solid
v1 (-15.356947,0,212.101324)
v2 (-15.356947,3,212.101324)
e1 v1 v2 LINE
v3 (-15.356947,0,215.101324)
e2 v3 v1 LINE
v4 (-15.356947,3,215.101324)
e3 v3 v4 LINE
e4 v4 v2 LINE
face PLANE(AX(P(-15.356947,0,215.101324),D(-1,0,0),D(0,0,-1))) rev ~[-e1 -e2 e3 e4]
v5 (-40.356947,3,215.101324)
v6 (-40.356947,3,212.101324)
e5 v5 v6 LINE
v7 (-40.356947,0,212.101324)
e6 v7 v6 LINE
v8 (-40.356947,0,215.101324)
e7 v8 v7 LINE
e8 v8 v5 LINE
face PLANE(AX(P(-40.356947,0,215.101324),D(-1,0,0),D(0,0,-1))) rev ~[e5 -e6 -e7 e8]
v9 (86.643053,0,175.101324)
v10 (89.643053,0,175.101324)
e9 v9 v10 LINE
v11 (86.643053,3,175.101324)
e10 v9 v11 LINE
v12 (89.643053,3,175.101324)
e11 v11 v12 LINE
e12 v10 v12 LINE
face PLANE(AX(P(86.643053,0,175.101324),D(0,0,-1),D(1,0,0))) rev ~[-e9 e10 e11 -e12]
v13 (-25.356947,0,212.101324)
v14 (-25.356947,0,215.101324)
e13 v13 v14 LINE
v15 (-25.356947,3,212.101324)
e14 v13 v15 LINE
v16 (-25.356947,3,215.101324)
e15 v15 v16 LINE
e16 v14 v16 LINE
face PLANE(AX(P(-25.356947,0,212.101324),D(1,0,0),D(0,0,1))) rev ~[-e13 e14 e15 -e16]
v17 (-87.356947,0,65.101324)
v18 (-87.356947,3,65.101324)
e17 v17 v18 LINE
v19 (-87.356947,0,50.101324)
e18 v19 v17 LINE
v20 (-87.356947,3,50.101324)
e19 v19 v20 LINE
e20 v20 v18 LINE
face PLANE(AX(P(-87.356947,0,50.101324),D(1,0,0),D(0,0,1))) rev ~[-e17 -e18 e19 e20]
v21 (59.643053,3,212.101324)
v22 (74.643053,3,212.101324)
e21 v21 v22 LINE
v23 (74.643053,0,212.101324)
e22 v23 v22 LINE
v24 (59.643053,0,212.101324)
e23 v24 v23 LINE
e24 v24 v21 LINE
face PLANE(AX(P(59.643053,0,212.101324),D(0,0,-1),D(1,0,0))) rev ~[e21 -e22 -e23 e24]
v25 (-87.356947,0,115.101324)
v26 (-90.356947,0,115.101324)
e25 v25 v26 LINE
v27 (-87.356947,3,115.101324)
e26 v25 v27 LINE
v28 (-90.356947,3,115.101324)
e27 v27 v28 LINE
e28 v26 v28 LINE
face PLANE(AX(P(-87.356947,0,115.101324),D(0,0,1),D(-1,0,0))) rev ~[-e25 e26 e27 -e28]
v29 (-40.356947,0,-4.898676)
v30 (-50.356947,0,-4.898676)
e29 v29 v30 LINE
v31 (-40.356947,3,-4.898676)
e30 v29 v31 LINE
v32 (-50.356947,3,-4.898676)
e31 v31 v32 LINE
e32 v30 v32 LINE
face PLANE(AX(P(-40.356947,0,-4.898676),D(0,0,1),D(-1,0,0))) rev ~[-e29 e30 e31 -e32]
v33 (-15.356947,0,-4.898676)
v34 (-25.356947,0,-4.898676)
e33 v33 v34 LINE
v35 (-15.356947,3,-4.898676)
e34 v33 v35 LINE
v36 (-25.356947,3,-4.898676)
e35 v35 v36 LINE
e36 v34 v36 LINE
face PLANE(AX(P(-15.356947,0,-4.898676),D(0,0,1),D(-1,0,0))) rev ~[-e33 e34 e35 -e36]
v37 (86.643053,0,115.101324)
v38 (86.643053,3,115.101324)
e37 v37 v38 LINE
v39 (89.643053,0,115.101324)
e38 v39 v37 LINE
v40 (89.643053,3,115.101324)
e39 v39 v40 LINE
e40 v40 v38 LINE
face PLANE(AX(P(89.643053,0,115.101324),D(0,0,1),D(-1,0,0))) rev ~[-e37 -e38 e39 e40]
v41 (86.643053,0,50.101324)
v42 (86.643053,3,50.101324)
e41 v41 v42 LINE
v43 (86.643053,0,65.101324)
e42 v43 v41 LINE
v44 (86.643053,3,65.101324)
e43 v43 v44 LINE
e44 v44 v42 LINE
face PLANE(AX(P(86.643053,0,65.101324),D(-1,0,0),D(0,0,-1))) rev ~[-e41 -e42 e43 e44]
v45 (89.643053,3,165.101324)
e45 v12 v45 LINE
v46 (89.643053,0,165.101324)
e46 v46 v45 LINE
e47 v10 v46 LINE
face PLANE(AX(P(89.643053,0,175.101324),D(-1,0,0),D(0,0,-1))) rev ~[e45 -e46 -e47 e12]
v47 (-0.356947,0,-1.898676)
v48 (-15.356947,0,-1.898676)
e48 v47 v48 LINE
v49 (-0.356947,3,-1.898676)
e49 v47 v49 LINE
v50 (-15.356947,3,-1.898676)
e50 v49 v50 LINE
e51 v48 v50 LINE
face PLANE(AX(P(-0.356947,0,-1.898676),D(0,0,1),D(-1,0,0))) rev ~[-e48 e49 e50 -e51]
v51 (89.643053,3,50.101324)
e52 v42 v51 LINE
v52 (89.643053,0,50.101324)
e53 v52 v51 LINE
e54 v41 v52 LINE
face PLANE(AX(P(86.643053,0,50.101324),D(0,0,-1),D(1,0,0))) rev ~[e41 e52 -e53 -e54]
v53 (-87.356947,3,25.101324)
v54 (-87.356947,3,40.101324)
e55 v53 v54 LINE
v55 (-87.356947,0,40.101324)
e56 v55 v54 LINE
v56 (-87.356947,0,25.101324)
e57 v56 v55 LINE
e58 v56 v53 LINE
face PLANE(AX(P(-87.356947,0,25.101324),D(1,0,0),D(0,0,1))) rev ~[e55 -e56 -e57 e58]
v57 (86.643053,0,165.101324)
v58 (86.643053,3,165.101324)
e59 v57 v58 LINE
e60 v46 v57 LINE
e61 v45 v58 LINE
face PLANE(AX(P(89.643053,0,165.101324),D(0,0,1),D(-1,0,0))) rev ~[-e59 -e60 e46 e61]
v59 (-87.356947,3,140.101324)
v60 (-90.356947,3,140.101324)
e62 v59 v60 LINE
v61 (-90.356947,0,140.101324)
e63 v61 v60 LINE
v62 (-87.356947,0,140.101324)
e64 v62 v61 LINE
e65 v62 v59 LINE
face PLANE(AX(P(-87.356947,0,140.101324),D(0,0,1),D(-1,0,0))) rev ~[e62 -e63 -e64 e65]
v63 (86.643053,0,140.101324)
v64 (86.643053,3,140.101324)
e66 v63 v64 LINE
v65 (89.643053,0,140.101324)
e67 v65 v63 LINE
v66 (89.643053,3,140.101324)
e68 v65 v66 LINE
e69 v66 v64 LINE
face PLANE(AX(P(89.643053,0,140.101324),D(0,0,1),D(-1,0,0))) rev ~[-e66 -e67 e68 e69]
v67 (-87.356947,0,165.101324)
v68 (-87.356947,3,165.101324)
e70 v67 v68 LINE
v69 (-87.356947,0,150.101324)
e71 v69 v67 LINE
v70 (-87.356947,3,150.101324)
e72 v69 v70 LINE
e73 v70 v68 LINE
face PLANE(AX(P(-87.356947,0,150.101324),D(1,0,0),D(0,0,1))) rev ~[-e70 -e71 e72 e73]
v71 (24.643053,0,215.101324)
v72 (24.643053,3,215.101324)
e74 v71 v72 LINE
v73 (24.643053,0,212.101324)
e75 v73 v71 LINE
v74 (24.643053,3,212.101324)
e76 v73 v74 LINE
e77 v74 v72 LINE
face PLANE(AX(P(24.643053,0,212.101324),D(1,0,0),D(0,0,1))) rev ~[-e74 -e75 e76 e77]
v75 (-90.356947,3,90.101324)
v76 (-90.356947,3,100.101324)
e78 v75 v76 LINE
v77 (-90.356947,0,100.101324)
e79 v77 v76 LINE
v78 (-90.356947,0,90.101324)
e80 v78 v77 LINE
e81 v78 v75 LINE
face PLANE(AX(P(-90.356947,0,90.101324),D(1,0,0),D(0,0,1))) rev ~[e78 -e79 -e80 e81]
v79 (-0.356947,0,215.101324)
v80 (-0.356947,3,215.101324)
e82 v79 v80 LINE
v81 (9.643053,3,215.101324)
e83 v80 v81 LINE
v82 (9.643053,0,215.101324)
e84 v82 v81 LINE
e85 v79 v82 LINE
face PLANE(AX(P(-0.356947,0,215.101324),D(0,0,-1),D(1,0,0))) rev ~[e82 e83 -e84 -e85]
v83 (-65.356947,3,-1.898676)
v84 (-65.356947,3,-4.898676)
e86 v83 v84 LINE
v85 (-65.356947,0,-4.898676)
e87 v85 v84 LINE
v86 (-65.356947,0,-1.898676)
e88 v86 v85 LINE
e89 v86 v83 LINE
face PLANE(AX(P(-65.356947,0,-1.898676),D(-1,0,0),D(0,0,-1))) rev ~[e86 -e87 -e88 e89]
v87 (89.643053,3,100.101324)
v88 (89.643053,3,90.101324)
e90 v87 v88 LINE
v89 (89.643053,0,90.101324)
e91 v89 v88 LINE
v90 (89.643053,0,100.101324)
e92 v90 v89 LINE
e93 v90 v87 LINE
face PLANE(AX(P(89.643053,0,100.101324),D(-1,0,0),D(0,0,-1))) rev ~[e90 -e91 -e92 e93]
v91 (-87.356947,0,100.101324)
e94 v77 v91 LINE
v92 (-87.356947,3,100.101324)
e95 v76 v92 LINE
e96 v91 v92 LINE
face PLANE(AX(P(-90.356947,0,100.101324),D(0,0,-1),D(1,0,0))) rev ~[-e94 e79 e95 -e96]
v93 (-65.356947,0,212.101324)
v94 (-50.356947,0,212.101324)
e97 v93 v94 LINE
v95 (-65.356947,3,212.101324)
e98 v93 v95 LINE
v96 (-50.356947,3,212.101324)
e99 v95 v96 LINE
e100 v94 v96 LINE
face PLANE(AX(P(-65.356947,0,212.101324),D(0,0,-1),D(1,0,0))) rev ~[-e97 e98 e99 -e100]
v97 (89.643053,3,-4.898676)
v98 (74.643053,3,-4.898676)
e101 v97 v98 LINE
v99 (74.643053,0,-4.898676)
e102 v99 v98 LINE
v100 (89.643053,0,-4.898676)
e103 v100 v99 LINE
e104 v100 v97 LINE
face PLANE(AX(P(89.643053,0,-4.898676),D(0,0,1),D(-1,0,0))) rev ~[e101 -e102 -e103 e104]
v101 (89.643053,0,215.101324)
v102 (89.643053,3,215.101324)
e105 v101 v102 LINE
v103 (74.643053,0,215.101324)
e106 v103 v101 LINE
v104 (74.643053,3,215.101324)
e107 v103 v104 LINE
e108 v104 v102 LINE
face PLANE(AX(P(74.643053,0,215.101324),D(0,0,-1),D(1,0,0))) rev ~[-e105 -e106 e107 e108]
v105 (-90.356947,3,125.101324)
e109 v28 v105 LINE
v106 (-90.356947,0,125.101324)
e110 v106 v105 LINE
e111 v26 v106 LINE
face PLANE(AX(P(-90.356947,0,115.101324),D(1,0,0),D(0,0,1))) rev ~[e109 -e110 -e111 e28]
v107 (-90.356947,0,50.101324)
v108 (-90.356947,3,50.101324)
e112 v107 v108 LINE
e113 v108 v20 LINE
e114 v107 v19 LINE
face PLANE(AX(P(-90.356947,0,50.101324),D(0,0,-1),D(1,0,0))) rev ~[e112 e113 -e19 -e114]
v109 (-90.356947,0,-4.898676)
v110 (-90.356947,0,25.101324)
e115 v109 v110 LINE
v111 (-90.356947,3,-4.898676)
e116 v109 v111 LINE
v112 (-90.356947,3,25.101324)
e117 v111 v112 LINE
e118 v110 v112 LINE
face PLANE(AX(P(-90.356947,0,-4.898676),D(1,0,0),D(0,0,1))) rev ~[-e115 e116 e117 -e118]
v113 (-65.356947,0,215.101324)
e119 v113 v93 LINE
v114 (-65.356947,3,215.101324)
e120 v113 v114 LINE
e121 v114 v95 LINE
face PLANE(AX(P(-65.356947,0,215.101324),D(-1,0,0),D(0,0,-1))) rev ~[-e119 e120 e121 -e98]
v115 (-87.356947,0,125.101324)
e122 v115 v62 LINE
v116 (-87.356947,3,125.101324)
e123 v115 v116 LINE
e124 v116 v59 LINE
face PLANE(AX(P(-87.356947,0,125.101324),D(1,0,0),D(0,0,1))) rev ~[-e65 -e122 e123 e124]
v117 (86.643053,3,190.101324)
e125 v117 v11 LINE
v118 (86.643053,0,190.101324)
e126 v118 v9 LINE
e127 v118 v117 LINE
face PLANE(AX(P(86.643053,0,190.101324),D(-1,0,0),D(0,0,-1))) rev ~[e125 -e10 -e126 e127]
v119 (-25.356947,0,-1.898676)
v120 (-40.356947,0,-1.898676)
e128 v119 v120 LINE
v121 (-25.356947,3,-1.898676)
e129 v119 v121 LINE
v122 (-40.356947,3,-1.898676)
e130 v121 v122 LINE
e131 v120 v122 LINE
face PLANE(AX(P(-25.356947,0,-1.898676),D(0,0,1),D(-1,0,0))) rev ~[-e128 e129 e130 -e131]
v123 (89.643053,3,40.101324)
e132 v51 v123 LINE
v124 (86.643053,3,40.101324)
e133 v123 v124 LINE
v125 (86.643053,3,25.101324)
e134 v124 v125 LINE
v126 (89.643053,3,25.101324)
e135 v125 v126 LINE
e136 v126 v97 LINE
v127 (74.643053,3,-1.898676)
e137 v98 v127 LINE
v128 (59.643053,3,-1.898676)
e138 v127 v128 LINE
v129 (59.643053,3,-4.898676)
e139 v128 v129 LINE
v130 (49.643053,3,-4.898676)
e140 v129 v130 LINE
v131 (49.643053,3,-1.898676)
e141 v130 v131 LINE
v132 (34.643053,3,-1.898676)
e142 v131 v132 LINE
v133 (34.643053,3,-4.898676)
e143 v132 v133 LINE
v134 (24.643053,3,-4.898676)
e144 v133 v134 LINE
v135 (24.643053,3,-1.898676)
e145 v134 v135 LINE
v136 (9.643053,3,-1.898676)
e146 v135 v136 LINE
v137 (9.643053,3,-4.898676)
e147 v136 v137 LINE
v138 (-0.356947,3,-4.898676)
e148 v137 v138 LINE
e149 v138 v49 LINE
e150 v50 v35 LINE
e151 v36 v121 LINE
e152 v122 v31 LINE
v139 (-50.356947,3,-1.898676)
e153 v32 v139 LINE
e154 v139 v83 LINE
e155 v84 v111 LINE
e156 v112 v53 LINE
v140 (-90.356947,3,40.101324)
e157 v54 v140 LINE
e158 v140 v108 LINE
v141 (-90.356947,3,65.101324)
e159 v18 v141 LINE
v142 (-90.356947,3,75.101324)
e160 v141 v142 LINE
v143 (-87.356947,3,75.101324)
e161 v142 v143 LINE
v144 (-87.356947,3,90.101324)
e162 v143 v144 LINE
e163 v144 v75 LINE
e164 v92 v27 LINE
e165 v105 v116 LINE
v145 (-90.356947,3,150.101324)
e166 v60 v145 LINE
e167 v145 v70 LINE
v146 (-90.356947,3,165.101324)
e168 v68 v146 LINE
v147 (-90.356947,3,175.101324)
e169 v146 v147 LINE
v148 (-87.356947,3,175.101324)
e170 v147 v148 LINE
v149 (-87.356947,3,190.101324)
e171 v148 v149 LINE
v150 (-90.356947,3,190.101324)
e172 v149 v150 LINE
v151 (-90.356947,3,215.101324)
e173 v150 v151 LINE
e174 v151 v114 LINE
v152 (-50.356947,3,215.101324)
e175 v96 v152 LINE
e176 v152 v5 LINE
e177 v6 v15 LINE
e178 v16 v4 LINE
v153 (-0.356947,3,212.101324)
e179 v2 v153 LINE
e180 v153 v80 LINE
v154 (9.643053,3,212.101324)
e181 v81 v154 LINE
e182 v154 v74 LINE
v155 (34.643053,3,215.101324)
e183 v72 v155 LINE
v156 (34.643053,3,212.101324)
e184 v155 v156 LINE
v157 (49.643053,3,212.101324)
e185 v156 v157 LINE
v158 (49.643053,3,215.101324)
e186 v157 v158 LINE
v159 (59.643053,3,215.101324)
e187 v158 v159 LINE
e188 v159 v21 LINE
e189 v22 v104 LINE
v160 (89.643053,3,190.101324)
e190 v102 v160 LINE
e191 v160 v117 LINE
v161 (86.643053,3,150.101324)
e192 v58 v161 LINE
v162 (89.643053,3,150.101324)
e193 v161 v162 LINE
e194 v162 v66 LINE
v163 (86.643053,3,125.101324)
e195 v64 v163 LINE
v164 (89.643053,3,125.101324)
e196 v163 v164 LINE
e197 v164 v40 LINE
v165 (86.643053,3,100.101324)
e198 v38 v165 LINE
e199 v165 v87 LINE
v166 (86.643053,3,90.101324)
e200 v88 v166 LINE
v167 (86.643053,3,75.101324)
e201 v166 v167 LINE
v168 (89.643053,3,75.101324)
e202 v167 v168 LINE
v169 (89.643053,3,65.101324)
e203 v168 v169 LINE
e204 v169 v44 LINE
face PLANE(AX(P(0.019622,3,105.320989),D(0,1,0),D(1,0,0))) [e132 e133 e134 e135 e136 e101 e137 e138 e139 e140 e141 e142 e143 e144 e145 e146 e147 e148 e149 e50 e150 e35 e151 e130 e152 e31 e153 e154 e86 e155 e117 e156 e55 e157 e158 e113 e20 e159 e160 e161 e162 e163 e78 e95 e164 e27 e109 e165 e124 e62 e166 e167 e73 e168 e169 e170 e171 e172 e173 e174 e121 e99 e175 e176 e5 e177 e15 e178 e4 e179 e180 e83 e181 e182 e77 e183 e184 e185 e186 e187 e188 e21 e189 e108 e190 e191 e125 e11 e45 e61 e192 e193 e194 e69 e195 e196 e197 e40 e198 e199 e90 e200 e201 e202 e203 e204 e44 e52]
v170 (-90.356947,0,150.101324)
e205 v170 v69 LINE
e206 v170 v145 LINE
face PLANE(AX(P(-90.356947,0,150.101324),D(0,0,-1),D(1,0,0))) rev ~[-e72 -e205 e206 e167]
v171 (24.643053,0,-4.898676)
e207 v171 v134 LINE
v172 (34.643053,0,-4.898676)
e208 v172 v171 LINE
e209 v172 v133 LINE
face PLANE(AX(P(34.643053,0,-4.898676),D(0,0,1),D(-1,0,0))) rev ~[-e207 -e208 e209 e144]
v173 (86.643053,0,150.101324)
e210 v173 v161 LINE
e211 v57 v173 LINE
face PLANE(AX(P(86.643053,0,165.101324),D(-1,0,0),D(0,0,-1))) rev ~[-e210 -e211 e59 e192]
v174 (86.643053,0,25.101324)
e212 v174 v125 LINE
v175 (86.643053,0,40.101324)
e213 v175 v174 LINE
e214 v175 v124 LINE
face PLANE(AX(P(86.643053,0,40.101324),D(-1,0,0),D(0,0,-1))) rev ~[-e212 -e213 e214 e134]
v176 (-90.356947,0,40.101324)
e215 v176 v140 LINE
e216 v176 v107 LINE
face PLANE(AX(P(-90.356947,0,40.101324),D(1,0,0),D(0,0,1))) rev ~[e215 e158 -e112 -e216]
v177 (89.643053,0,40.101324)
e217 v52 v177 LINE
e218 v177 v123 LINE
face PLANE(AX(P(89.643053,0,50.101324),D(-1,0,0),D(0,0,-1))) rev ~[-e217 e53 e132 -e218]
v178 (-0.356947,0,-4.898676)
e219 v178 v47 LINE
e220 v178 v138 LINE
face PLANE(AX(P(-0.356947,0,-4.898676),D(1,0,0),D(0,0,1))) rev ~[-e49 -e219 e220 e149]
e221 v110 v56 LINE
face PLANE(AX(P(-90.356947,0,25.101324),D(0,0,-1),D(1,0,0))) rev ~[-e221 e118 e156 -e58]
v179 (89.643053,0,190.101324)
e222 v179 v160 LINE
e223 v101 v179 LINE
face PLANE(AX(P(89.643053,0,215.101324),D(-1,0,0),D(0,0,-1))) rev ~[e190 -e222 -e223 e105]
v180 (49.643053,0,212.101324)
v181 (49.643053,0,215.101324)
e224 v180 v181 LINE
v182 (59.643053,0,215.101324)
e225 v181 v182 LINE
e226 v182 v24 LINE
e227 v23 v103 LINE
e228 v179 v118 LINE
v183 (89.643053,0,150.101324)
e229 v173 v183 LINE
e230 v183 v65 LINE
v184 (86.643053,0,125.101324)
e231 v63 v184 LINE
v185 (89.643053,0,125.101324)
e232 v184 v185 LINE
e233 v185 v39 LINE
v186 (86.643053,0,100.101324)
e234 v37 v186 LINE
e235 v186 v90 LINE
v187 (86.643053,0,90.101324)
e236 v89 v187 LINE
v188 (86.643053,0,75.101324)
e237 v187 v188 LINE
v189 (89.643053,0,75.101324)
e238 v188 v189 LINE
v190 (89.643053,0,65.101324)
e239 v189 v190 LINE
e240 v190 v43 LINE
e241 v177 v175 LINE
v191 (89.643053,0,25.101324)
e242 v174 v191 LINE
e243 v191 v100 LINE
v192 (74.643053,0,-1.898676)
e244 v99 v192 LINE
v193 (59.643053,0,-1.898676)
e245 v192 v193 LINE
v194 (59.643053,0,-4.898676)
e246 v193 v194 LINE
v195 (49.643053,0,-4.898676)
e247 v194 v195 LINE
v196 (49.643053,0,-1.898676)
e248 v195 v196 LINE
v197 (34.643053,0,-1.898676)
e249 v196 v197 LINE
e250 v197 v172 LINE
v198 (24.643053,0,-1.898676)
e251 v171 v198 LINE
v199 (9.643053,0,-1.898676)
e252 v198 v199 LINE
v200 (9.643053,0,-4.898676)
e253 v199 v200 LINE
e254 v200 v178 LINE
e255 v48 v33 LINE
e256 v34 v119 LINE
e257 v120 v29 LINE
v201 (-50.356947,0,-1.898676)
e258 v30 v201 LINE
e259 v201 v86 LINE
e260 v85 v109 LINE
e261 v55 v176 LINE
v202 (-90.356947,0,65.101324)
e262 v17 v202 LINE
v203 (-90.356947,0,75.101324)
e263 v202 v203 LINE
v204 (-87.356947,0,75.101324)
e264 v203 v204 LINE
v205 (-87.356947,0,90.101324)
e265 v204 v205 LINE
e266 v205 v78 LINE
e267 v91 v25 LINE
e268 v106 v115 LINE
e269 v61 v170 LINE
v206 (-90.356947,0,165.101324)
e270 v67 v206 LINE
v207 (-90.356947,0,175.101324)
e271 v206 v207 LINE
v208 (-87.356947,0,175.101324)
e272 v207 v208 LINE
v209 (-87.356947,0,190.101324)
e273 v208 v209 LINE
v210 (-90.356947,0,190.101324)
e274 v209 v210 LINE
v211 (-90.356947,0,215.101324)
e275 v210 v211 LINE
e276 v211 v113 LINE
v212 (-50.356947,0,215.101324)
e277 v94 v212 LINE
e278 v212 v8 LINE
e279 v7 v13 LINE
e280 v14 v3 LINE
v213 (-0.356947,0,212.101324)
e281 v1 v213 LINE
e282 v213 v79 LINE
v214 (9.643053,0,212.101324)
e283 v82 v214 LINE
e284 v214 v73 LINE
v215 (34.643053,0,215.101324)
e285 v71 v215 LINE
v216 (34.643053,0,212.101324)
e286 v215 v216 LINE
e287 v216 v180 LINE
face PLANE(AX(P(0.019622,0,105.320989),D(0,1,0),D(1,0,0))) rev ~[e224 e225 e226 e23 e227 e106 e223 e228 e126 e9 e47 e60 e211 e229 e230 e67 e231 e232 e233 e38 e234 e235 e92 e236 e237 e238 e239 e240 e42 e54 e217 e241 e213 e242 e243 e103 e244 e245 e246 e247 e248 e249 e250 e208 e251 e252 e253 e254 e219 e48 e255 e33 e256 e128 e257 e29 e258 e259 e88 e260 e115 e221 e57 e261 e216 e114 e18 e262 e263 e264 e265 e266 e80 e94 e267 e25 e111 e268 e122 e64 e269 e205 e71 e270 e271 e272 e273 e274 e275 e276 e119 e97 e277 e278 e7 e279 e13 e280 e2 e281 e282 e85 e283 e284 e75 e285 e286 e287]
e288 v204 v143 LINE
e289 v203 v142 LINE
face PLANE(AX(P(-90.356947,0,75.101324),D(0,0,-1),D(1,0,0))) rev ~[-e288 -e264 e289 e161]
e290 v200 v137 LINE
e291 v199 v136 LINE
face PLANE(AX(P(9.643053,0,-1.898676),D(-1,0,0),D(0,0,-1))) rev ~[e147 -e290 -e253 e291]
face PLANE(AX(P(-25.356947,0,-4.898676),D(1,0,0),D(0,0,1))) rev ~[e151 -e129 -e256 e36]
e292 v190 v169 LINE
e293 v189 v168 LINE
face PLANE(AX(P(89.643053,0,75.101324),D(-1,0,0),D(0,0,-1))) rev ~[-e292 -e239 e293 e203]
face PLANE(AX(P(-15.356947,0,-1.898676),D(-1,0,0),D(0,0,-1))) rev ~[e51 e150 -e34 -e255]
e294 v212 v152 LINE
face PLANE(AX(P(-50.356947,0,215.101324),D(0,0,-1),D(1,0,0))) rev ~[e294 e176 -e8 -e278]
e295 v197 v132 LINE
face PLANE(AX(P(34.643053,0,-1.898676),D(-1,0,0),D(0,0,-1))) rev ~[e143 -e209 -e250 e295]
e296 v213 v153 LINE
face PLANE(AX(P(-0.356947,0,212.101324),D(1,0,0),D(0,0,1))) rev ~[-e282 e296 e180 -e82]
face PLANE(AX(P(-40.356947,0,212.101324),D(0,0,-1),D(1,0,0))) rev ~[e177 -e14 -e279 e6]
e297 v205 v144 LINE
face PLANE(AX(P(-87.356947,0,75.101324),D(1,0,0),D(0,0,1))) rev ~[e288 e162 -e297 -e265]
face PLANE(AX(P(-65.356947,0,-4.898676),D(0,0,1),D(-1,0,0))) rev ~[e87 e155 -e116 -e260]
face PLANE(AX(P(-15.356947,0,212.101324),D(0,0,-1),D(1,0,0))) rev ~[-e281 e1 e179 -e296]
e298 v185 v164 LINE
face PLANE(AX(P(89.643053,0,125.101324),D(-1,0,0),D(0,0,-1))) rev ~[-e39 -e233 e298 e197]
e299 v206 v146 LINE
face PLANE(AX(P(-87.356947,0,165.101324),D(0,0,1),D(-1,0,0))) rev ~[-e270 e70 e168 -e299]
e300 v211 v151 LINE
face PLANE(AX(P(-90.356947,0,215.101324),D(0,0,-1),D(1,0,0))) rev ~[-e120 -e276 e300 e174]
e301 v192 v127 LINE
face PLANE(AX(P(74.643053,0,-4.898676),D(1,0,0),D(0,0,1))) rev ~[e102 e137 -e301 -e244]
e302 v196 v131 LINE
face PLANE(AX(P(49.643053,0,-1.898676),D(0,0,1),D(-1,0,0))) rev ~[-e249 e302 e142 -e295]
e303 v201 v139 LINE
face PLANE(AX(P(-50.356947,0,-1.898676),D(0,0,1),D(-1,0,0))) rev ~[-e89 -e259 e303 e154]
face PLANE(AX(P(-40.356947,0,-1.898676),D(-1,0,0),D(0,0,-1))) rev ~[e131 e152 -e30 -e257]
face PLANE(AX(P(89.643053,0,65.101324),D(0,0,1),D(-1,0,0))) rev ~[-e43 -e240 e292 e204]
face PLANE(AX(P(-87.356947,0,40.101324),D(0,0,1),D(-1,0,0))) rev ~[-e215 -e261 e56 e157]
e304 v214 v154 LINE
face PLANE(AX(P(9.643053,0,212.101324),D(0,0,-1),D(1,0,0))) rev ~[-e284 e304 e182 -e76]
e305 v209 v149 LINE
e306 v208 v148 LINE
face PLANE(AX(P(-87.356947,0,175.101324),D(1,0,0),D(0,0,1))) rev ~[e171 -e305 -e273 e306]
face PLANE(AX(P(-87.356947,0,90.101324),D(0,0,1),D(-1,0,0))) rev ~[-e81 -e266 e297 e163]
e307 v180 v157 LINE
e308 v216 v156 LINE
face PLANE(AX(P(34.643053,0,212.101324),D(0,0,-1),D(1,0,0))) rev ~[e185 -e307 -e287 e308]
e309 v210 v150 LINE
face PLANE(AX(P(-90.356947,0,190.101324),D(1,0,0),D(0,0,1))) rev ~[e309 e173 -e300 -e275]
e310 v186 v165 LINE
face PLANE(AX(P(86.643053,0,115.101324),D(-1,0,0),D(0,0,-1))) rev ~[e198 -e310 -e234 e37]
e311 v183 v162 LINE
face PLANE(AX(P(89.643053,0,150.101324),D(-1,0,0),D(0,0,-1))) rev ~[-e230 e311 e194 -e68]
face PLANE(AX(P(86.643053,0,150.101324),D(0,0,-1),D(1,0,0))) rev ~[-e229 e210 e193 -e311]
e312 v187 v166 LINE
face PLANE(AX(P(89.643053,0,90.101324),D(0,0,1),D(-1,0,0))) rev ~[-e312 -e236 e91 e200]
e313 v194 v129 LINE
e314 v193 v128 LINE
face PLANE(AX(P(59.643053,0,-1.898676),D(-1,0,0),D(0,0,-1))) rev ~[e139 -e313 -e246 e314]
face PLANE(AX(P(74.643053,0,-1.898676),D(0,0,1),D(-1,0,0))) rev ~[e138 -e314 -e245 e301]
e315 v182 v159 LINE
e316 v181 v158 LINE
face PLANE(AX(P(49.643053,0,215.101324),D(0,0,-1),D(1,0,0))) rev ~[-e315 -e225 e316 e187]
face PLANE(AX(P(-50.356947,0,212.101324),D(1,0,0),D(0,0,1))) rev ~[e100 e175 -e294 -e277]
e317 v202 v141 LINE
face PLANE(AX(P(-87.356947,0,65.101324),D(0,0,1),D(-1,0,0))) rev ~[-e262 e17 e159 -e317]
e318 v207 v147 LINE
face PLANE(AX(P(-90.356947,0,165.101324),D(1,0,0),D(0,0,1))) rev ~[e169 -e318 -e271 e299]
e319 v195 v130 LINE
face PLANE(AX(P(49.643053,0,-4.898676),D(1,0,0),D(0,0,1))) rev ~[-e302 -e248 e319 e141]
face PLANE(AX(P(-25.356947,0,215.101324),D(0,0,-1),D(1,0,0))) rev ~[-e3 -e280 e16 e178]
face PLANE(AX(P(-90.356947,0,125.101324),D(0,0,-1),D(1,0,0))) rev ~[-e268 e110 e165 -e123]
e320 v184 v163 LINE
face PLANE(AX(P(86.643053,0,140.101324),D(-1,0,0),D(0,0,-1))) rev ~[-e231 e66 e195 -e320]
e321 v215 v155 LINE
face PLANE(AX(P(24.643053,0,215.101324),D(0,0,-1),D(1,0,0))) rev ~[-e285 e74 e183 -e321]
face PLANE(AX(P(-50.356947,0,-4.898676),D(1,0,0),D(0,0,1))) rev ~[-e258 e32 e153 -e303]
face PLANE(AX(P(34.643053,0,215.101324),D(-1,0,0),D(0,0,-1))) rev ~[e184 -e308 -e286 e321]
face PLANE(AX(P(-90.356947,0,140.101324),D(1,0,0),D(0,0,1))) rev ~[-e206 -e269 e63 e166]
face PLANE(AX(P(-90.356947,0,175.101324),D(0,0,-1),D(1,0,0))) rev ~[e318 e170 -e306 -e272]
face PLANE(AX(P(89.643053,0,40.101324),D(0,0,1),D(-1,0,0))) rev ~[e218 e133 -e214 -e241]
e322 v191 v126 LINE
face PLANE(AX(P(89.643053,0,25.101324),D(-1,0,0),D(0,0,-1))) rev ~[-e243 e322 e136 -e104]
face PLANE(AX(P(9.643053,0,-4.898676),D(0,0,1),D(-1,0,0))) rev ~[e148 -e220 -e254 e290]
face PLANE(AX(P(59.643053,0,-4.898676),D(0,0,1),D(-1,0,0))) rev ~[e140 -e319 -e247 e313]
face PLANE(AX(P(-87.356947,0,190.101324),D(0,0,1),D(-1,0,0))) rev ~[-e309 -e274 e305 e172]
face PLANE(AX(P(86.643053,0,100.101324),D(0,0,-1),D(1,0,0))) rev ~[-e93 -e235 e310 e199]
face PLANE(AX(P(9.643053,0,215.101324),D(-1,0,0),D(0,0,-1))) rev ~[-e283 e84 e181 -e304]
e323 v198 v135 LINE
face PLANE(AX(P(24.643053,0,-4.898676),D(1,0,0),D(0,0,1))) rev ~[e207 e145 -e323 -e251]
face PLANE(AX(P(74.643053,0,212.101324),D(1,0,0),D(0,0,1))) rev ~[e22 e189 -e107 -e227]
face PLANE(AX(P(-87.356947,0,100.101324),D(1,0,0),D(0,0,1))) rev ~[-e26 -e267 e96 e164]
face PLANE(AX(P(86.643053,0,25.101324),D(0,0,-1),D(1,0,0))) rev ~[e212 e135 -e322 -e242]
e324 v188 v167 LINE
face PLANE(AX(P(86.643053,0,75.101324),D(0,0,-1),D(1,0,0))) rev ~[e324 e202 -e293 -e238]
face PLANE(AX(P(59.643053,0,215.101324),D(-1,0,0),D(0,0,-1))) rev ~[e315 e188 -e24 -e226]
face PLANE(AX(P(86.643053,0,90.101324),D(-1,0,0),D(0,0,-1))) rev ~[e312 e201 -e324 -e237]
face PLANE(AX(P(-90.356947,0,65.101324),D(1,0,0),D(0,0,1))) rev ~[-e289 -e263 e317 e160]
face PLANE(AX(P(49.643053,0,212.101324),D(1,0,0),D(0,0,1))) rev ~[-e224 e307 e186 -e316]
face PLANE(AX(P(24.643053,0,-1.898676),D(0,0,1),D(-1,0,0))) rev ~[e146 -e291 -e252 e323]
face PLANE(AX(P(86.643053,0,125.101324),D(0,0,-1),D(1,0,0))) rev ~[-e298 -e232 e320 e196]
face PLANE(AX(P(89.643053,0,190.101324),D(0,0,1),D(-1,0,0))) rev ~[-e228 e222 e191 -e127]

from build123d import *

# Parameters (mm, degrees)
BOSS_EXTRUDE1_DEPTH = 3


with BuildPart() as part:
    # Sketch1 → Boss-Extrude1 (new body)
    with BuildSketch(Plane(origin=(0, 0, 0), x_dir=(1, 0, 0), z_dir=(0, 1, 0))):
        Polygon((-87.356947197, -190.101323735), (-90.356947197, -190.101323735), (-90.356947197, -215.101323735), (-65.356947197, -215.101323735), (-65.356947197, -212.101323735), (-50.356947197, -212.101323735), (-50.356947197, -215.101323735), (-40.356947197, -215.101323735), (-40.356947197, -212.101323735), (-25.356947197, -212.101323735), (-25.356947197, -215.101323735), (-15.356947197, -215.101323735), (-15.356947197, -212.101323735), (-0.356947197, -212.101323735), (-0.356947197, -215.101323735), (9.643052803, -215.101323735), (9.643052803, -212.101323735), (24.643052803, -212.101323735), (24.643052803, -215.101323735), (34.643052803, -215.101323735), (34.643052803, -212.101323735), (49.643052803, -212.101323735), (49.643052803, -215.101323735), (59.643052803, -215.101323735), (59.643052803, -212.101323735), (74.643052803, -212.101323735), (74.643052803, -215.101323735), (89.643052803, -215.101323735), (89.643052803, -190.101323735), (86.643052803, -190.101323735), (86.643052803, -175.101323735), (89.643052803, -175.101323735), (89.643052803, -165.101323735), (86.643052803, -165.101323735), (86.643052803, -150.101323735), (89.643052803, -150.101323735), (89.643052803, -140.101323735), (86.643052803, -140.101323735), (86.643052803, -125.101323735), (89.643052803, -125.101323735), (89.643052803, -115.101323735), (86.643052803, -115.101323735), (86.643052803, -100.101323735), (89.643052803, -100.101323735), (89.643052803, -90.101323735), (86.643052803, -90.101323735), (86.643052803, -75.101323735), (89.643052803, -75.101323735), (89.643052803, -65.101323735), (86.643052803, -65.101323735), (86.643052803, -50.101323735), (89.643052803, -50.101323735), (89.643052803, -40.101323735), (86.643052803, -40.101323735), (86.643052803, -25.101323735), (89.643052803, -25.101323735), (89.643052803, 4.898676265), (74.643052803, 4.898676265), (74.643052803, 1.898676265), (59.643052803, 1.898676265), (59.643052803, 4.898676265), (49.643052803, 4.898676265), (49.643052803, 1.898676265), (34.643052803, 1.898676265), (34.643052803, 4.898676265), (24.643052803, 4.898676265), (24.643052803, 1.898676265), (9.643052803, 1.898676265), (9.643052803, 4.898676265), (-0.356947197, 4.898676265), (-0.356947197, 1.898676265), (-15.356947197, 1.898676265), (-15.356947197, 4.898676265), (-25.356947197, 4.898676265), (-25.356947197, 1.898676265), (-40.356947197, 1.898676265), (-40.356947197, 4.898676265), (-50.356947197, 4.898676265), (-50.356947197, 1.898676265), (-65.356947197, 1.898676265), (-65.356947197, 4.898676265), (-90.356947197, 4.898676265), (-90.356947197, -25.101323735), (-87.356947197, -25.101323735), (-87.356947197, -40.101323735), (-90.356947197, -40.101323735), (-90.356947197, -50.101323735), (-87.356947197, -50.101323735), (-87.356947197, -65.101323735), (-90.356947197, -65.101323735), (-90.356947197, -75.101323735), (-87.356947197, -75.101323735), (-87.356947197, -90.101323735), (-90.356947197, -90.101323735), (-90.356947197, -100.101323735), (-87.356947197, -100.101323735), (-87.356947197, -115.101323735), (-90.356947197, -115.101323735), (-90.356947197, -125.101323735), (-87.356947197, -125.101323735), (-87.356947197, -140.101323735), (-90.356947197, -140.101323735), (-90.356947197, -150.101323735), (-87.356947197, -150.101323735), (-87.356947197, -165.101323735), (-90.356947197, -165.101323735), (-90.356947197, -175.101323735), (-87.356947197, -175.101323735), align=None)
    extrude(amount=BOSS_EXTRUDE1_DEPTH)


solid = part.part
